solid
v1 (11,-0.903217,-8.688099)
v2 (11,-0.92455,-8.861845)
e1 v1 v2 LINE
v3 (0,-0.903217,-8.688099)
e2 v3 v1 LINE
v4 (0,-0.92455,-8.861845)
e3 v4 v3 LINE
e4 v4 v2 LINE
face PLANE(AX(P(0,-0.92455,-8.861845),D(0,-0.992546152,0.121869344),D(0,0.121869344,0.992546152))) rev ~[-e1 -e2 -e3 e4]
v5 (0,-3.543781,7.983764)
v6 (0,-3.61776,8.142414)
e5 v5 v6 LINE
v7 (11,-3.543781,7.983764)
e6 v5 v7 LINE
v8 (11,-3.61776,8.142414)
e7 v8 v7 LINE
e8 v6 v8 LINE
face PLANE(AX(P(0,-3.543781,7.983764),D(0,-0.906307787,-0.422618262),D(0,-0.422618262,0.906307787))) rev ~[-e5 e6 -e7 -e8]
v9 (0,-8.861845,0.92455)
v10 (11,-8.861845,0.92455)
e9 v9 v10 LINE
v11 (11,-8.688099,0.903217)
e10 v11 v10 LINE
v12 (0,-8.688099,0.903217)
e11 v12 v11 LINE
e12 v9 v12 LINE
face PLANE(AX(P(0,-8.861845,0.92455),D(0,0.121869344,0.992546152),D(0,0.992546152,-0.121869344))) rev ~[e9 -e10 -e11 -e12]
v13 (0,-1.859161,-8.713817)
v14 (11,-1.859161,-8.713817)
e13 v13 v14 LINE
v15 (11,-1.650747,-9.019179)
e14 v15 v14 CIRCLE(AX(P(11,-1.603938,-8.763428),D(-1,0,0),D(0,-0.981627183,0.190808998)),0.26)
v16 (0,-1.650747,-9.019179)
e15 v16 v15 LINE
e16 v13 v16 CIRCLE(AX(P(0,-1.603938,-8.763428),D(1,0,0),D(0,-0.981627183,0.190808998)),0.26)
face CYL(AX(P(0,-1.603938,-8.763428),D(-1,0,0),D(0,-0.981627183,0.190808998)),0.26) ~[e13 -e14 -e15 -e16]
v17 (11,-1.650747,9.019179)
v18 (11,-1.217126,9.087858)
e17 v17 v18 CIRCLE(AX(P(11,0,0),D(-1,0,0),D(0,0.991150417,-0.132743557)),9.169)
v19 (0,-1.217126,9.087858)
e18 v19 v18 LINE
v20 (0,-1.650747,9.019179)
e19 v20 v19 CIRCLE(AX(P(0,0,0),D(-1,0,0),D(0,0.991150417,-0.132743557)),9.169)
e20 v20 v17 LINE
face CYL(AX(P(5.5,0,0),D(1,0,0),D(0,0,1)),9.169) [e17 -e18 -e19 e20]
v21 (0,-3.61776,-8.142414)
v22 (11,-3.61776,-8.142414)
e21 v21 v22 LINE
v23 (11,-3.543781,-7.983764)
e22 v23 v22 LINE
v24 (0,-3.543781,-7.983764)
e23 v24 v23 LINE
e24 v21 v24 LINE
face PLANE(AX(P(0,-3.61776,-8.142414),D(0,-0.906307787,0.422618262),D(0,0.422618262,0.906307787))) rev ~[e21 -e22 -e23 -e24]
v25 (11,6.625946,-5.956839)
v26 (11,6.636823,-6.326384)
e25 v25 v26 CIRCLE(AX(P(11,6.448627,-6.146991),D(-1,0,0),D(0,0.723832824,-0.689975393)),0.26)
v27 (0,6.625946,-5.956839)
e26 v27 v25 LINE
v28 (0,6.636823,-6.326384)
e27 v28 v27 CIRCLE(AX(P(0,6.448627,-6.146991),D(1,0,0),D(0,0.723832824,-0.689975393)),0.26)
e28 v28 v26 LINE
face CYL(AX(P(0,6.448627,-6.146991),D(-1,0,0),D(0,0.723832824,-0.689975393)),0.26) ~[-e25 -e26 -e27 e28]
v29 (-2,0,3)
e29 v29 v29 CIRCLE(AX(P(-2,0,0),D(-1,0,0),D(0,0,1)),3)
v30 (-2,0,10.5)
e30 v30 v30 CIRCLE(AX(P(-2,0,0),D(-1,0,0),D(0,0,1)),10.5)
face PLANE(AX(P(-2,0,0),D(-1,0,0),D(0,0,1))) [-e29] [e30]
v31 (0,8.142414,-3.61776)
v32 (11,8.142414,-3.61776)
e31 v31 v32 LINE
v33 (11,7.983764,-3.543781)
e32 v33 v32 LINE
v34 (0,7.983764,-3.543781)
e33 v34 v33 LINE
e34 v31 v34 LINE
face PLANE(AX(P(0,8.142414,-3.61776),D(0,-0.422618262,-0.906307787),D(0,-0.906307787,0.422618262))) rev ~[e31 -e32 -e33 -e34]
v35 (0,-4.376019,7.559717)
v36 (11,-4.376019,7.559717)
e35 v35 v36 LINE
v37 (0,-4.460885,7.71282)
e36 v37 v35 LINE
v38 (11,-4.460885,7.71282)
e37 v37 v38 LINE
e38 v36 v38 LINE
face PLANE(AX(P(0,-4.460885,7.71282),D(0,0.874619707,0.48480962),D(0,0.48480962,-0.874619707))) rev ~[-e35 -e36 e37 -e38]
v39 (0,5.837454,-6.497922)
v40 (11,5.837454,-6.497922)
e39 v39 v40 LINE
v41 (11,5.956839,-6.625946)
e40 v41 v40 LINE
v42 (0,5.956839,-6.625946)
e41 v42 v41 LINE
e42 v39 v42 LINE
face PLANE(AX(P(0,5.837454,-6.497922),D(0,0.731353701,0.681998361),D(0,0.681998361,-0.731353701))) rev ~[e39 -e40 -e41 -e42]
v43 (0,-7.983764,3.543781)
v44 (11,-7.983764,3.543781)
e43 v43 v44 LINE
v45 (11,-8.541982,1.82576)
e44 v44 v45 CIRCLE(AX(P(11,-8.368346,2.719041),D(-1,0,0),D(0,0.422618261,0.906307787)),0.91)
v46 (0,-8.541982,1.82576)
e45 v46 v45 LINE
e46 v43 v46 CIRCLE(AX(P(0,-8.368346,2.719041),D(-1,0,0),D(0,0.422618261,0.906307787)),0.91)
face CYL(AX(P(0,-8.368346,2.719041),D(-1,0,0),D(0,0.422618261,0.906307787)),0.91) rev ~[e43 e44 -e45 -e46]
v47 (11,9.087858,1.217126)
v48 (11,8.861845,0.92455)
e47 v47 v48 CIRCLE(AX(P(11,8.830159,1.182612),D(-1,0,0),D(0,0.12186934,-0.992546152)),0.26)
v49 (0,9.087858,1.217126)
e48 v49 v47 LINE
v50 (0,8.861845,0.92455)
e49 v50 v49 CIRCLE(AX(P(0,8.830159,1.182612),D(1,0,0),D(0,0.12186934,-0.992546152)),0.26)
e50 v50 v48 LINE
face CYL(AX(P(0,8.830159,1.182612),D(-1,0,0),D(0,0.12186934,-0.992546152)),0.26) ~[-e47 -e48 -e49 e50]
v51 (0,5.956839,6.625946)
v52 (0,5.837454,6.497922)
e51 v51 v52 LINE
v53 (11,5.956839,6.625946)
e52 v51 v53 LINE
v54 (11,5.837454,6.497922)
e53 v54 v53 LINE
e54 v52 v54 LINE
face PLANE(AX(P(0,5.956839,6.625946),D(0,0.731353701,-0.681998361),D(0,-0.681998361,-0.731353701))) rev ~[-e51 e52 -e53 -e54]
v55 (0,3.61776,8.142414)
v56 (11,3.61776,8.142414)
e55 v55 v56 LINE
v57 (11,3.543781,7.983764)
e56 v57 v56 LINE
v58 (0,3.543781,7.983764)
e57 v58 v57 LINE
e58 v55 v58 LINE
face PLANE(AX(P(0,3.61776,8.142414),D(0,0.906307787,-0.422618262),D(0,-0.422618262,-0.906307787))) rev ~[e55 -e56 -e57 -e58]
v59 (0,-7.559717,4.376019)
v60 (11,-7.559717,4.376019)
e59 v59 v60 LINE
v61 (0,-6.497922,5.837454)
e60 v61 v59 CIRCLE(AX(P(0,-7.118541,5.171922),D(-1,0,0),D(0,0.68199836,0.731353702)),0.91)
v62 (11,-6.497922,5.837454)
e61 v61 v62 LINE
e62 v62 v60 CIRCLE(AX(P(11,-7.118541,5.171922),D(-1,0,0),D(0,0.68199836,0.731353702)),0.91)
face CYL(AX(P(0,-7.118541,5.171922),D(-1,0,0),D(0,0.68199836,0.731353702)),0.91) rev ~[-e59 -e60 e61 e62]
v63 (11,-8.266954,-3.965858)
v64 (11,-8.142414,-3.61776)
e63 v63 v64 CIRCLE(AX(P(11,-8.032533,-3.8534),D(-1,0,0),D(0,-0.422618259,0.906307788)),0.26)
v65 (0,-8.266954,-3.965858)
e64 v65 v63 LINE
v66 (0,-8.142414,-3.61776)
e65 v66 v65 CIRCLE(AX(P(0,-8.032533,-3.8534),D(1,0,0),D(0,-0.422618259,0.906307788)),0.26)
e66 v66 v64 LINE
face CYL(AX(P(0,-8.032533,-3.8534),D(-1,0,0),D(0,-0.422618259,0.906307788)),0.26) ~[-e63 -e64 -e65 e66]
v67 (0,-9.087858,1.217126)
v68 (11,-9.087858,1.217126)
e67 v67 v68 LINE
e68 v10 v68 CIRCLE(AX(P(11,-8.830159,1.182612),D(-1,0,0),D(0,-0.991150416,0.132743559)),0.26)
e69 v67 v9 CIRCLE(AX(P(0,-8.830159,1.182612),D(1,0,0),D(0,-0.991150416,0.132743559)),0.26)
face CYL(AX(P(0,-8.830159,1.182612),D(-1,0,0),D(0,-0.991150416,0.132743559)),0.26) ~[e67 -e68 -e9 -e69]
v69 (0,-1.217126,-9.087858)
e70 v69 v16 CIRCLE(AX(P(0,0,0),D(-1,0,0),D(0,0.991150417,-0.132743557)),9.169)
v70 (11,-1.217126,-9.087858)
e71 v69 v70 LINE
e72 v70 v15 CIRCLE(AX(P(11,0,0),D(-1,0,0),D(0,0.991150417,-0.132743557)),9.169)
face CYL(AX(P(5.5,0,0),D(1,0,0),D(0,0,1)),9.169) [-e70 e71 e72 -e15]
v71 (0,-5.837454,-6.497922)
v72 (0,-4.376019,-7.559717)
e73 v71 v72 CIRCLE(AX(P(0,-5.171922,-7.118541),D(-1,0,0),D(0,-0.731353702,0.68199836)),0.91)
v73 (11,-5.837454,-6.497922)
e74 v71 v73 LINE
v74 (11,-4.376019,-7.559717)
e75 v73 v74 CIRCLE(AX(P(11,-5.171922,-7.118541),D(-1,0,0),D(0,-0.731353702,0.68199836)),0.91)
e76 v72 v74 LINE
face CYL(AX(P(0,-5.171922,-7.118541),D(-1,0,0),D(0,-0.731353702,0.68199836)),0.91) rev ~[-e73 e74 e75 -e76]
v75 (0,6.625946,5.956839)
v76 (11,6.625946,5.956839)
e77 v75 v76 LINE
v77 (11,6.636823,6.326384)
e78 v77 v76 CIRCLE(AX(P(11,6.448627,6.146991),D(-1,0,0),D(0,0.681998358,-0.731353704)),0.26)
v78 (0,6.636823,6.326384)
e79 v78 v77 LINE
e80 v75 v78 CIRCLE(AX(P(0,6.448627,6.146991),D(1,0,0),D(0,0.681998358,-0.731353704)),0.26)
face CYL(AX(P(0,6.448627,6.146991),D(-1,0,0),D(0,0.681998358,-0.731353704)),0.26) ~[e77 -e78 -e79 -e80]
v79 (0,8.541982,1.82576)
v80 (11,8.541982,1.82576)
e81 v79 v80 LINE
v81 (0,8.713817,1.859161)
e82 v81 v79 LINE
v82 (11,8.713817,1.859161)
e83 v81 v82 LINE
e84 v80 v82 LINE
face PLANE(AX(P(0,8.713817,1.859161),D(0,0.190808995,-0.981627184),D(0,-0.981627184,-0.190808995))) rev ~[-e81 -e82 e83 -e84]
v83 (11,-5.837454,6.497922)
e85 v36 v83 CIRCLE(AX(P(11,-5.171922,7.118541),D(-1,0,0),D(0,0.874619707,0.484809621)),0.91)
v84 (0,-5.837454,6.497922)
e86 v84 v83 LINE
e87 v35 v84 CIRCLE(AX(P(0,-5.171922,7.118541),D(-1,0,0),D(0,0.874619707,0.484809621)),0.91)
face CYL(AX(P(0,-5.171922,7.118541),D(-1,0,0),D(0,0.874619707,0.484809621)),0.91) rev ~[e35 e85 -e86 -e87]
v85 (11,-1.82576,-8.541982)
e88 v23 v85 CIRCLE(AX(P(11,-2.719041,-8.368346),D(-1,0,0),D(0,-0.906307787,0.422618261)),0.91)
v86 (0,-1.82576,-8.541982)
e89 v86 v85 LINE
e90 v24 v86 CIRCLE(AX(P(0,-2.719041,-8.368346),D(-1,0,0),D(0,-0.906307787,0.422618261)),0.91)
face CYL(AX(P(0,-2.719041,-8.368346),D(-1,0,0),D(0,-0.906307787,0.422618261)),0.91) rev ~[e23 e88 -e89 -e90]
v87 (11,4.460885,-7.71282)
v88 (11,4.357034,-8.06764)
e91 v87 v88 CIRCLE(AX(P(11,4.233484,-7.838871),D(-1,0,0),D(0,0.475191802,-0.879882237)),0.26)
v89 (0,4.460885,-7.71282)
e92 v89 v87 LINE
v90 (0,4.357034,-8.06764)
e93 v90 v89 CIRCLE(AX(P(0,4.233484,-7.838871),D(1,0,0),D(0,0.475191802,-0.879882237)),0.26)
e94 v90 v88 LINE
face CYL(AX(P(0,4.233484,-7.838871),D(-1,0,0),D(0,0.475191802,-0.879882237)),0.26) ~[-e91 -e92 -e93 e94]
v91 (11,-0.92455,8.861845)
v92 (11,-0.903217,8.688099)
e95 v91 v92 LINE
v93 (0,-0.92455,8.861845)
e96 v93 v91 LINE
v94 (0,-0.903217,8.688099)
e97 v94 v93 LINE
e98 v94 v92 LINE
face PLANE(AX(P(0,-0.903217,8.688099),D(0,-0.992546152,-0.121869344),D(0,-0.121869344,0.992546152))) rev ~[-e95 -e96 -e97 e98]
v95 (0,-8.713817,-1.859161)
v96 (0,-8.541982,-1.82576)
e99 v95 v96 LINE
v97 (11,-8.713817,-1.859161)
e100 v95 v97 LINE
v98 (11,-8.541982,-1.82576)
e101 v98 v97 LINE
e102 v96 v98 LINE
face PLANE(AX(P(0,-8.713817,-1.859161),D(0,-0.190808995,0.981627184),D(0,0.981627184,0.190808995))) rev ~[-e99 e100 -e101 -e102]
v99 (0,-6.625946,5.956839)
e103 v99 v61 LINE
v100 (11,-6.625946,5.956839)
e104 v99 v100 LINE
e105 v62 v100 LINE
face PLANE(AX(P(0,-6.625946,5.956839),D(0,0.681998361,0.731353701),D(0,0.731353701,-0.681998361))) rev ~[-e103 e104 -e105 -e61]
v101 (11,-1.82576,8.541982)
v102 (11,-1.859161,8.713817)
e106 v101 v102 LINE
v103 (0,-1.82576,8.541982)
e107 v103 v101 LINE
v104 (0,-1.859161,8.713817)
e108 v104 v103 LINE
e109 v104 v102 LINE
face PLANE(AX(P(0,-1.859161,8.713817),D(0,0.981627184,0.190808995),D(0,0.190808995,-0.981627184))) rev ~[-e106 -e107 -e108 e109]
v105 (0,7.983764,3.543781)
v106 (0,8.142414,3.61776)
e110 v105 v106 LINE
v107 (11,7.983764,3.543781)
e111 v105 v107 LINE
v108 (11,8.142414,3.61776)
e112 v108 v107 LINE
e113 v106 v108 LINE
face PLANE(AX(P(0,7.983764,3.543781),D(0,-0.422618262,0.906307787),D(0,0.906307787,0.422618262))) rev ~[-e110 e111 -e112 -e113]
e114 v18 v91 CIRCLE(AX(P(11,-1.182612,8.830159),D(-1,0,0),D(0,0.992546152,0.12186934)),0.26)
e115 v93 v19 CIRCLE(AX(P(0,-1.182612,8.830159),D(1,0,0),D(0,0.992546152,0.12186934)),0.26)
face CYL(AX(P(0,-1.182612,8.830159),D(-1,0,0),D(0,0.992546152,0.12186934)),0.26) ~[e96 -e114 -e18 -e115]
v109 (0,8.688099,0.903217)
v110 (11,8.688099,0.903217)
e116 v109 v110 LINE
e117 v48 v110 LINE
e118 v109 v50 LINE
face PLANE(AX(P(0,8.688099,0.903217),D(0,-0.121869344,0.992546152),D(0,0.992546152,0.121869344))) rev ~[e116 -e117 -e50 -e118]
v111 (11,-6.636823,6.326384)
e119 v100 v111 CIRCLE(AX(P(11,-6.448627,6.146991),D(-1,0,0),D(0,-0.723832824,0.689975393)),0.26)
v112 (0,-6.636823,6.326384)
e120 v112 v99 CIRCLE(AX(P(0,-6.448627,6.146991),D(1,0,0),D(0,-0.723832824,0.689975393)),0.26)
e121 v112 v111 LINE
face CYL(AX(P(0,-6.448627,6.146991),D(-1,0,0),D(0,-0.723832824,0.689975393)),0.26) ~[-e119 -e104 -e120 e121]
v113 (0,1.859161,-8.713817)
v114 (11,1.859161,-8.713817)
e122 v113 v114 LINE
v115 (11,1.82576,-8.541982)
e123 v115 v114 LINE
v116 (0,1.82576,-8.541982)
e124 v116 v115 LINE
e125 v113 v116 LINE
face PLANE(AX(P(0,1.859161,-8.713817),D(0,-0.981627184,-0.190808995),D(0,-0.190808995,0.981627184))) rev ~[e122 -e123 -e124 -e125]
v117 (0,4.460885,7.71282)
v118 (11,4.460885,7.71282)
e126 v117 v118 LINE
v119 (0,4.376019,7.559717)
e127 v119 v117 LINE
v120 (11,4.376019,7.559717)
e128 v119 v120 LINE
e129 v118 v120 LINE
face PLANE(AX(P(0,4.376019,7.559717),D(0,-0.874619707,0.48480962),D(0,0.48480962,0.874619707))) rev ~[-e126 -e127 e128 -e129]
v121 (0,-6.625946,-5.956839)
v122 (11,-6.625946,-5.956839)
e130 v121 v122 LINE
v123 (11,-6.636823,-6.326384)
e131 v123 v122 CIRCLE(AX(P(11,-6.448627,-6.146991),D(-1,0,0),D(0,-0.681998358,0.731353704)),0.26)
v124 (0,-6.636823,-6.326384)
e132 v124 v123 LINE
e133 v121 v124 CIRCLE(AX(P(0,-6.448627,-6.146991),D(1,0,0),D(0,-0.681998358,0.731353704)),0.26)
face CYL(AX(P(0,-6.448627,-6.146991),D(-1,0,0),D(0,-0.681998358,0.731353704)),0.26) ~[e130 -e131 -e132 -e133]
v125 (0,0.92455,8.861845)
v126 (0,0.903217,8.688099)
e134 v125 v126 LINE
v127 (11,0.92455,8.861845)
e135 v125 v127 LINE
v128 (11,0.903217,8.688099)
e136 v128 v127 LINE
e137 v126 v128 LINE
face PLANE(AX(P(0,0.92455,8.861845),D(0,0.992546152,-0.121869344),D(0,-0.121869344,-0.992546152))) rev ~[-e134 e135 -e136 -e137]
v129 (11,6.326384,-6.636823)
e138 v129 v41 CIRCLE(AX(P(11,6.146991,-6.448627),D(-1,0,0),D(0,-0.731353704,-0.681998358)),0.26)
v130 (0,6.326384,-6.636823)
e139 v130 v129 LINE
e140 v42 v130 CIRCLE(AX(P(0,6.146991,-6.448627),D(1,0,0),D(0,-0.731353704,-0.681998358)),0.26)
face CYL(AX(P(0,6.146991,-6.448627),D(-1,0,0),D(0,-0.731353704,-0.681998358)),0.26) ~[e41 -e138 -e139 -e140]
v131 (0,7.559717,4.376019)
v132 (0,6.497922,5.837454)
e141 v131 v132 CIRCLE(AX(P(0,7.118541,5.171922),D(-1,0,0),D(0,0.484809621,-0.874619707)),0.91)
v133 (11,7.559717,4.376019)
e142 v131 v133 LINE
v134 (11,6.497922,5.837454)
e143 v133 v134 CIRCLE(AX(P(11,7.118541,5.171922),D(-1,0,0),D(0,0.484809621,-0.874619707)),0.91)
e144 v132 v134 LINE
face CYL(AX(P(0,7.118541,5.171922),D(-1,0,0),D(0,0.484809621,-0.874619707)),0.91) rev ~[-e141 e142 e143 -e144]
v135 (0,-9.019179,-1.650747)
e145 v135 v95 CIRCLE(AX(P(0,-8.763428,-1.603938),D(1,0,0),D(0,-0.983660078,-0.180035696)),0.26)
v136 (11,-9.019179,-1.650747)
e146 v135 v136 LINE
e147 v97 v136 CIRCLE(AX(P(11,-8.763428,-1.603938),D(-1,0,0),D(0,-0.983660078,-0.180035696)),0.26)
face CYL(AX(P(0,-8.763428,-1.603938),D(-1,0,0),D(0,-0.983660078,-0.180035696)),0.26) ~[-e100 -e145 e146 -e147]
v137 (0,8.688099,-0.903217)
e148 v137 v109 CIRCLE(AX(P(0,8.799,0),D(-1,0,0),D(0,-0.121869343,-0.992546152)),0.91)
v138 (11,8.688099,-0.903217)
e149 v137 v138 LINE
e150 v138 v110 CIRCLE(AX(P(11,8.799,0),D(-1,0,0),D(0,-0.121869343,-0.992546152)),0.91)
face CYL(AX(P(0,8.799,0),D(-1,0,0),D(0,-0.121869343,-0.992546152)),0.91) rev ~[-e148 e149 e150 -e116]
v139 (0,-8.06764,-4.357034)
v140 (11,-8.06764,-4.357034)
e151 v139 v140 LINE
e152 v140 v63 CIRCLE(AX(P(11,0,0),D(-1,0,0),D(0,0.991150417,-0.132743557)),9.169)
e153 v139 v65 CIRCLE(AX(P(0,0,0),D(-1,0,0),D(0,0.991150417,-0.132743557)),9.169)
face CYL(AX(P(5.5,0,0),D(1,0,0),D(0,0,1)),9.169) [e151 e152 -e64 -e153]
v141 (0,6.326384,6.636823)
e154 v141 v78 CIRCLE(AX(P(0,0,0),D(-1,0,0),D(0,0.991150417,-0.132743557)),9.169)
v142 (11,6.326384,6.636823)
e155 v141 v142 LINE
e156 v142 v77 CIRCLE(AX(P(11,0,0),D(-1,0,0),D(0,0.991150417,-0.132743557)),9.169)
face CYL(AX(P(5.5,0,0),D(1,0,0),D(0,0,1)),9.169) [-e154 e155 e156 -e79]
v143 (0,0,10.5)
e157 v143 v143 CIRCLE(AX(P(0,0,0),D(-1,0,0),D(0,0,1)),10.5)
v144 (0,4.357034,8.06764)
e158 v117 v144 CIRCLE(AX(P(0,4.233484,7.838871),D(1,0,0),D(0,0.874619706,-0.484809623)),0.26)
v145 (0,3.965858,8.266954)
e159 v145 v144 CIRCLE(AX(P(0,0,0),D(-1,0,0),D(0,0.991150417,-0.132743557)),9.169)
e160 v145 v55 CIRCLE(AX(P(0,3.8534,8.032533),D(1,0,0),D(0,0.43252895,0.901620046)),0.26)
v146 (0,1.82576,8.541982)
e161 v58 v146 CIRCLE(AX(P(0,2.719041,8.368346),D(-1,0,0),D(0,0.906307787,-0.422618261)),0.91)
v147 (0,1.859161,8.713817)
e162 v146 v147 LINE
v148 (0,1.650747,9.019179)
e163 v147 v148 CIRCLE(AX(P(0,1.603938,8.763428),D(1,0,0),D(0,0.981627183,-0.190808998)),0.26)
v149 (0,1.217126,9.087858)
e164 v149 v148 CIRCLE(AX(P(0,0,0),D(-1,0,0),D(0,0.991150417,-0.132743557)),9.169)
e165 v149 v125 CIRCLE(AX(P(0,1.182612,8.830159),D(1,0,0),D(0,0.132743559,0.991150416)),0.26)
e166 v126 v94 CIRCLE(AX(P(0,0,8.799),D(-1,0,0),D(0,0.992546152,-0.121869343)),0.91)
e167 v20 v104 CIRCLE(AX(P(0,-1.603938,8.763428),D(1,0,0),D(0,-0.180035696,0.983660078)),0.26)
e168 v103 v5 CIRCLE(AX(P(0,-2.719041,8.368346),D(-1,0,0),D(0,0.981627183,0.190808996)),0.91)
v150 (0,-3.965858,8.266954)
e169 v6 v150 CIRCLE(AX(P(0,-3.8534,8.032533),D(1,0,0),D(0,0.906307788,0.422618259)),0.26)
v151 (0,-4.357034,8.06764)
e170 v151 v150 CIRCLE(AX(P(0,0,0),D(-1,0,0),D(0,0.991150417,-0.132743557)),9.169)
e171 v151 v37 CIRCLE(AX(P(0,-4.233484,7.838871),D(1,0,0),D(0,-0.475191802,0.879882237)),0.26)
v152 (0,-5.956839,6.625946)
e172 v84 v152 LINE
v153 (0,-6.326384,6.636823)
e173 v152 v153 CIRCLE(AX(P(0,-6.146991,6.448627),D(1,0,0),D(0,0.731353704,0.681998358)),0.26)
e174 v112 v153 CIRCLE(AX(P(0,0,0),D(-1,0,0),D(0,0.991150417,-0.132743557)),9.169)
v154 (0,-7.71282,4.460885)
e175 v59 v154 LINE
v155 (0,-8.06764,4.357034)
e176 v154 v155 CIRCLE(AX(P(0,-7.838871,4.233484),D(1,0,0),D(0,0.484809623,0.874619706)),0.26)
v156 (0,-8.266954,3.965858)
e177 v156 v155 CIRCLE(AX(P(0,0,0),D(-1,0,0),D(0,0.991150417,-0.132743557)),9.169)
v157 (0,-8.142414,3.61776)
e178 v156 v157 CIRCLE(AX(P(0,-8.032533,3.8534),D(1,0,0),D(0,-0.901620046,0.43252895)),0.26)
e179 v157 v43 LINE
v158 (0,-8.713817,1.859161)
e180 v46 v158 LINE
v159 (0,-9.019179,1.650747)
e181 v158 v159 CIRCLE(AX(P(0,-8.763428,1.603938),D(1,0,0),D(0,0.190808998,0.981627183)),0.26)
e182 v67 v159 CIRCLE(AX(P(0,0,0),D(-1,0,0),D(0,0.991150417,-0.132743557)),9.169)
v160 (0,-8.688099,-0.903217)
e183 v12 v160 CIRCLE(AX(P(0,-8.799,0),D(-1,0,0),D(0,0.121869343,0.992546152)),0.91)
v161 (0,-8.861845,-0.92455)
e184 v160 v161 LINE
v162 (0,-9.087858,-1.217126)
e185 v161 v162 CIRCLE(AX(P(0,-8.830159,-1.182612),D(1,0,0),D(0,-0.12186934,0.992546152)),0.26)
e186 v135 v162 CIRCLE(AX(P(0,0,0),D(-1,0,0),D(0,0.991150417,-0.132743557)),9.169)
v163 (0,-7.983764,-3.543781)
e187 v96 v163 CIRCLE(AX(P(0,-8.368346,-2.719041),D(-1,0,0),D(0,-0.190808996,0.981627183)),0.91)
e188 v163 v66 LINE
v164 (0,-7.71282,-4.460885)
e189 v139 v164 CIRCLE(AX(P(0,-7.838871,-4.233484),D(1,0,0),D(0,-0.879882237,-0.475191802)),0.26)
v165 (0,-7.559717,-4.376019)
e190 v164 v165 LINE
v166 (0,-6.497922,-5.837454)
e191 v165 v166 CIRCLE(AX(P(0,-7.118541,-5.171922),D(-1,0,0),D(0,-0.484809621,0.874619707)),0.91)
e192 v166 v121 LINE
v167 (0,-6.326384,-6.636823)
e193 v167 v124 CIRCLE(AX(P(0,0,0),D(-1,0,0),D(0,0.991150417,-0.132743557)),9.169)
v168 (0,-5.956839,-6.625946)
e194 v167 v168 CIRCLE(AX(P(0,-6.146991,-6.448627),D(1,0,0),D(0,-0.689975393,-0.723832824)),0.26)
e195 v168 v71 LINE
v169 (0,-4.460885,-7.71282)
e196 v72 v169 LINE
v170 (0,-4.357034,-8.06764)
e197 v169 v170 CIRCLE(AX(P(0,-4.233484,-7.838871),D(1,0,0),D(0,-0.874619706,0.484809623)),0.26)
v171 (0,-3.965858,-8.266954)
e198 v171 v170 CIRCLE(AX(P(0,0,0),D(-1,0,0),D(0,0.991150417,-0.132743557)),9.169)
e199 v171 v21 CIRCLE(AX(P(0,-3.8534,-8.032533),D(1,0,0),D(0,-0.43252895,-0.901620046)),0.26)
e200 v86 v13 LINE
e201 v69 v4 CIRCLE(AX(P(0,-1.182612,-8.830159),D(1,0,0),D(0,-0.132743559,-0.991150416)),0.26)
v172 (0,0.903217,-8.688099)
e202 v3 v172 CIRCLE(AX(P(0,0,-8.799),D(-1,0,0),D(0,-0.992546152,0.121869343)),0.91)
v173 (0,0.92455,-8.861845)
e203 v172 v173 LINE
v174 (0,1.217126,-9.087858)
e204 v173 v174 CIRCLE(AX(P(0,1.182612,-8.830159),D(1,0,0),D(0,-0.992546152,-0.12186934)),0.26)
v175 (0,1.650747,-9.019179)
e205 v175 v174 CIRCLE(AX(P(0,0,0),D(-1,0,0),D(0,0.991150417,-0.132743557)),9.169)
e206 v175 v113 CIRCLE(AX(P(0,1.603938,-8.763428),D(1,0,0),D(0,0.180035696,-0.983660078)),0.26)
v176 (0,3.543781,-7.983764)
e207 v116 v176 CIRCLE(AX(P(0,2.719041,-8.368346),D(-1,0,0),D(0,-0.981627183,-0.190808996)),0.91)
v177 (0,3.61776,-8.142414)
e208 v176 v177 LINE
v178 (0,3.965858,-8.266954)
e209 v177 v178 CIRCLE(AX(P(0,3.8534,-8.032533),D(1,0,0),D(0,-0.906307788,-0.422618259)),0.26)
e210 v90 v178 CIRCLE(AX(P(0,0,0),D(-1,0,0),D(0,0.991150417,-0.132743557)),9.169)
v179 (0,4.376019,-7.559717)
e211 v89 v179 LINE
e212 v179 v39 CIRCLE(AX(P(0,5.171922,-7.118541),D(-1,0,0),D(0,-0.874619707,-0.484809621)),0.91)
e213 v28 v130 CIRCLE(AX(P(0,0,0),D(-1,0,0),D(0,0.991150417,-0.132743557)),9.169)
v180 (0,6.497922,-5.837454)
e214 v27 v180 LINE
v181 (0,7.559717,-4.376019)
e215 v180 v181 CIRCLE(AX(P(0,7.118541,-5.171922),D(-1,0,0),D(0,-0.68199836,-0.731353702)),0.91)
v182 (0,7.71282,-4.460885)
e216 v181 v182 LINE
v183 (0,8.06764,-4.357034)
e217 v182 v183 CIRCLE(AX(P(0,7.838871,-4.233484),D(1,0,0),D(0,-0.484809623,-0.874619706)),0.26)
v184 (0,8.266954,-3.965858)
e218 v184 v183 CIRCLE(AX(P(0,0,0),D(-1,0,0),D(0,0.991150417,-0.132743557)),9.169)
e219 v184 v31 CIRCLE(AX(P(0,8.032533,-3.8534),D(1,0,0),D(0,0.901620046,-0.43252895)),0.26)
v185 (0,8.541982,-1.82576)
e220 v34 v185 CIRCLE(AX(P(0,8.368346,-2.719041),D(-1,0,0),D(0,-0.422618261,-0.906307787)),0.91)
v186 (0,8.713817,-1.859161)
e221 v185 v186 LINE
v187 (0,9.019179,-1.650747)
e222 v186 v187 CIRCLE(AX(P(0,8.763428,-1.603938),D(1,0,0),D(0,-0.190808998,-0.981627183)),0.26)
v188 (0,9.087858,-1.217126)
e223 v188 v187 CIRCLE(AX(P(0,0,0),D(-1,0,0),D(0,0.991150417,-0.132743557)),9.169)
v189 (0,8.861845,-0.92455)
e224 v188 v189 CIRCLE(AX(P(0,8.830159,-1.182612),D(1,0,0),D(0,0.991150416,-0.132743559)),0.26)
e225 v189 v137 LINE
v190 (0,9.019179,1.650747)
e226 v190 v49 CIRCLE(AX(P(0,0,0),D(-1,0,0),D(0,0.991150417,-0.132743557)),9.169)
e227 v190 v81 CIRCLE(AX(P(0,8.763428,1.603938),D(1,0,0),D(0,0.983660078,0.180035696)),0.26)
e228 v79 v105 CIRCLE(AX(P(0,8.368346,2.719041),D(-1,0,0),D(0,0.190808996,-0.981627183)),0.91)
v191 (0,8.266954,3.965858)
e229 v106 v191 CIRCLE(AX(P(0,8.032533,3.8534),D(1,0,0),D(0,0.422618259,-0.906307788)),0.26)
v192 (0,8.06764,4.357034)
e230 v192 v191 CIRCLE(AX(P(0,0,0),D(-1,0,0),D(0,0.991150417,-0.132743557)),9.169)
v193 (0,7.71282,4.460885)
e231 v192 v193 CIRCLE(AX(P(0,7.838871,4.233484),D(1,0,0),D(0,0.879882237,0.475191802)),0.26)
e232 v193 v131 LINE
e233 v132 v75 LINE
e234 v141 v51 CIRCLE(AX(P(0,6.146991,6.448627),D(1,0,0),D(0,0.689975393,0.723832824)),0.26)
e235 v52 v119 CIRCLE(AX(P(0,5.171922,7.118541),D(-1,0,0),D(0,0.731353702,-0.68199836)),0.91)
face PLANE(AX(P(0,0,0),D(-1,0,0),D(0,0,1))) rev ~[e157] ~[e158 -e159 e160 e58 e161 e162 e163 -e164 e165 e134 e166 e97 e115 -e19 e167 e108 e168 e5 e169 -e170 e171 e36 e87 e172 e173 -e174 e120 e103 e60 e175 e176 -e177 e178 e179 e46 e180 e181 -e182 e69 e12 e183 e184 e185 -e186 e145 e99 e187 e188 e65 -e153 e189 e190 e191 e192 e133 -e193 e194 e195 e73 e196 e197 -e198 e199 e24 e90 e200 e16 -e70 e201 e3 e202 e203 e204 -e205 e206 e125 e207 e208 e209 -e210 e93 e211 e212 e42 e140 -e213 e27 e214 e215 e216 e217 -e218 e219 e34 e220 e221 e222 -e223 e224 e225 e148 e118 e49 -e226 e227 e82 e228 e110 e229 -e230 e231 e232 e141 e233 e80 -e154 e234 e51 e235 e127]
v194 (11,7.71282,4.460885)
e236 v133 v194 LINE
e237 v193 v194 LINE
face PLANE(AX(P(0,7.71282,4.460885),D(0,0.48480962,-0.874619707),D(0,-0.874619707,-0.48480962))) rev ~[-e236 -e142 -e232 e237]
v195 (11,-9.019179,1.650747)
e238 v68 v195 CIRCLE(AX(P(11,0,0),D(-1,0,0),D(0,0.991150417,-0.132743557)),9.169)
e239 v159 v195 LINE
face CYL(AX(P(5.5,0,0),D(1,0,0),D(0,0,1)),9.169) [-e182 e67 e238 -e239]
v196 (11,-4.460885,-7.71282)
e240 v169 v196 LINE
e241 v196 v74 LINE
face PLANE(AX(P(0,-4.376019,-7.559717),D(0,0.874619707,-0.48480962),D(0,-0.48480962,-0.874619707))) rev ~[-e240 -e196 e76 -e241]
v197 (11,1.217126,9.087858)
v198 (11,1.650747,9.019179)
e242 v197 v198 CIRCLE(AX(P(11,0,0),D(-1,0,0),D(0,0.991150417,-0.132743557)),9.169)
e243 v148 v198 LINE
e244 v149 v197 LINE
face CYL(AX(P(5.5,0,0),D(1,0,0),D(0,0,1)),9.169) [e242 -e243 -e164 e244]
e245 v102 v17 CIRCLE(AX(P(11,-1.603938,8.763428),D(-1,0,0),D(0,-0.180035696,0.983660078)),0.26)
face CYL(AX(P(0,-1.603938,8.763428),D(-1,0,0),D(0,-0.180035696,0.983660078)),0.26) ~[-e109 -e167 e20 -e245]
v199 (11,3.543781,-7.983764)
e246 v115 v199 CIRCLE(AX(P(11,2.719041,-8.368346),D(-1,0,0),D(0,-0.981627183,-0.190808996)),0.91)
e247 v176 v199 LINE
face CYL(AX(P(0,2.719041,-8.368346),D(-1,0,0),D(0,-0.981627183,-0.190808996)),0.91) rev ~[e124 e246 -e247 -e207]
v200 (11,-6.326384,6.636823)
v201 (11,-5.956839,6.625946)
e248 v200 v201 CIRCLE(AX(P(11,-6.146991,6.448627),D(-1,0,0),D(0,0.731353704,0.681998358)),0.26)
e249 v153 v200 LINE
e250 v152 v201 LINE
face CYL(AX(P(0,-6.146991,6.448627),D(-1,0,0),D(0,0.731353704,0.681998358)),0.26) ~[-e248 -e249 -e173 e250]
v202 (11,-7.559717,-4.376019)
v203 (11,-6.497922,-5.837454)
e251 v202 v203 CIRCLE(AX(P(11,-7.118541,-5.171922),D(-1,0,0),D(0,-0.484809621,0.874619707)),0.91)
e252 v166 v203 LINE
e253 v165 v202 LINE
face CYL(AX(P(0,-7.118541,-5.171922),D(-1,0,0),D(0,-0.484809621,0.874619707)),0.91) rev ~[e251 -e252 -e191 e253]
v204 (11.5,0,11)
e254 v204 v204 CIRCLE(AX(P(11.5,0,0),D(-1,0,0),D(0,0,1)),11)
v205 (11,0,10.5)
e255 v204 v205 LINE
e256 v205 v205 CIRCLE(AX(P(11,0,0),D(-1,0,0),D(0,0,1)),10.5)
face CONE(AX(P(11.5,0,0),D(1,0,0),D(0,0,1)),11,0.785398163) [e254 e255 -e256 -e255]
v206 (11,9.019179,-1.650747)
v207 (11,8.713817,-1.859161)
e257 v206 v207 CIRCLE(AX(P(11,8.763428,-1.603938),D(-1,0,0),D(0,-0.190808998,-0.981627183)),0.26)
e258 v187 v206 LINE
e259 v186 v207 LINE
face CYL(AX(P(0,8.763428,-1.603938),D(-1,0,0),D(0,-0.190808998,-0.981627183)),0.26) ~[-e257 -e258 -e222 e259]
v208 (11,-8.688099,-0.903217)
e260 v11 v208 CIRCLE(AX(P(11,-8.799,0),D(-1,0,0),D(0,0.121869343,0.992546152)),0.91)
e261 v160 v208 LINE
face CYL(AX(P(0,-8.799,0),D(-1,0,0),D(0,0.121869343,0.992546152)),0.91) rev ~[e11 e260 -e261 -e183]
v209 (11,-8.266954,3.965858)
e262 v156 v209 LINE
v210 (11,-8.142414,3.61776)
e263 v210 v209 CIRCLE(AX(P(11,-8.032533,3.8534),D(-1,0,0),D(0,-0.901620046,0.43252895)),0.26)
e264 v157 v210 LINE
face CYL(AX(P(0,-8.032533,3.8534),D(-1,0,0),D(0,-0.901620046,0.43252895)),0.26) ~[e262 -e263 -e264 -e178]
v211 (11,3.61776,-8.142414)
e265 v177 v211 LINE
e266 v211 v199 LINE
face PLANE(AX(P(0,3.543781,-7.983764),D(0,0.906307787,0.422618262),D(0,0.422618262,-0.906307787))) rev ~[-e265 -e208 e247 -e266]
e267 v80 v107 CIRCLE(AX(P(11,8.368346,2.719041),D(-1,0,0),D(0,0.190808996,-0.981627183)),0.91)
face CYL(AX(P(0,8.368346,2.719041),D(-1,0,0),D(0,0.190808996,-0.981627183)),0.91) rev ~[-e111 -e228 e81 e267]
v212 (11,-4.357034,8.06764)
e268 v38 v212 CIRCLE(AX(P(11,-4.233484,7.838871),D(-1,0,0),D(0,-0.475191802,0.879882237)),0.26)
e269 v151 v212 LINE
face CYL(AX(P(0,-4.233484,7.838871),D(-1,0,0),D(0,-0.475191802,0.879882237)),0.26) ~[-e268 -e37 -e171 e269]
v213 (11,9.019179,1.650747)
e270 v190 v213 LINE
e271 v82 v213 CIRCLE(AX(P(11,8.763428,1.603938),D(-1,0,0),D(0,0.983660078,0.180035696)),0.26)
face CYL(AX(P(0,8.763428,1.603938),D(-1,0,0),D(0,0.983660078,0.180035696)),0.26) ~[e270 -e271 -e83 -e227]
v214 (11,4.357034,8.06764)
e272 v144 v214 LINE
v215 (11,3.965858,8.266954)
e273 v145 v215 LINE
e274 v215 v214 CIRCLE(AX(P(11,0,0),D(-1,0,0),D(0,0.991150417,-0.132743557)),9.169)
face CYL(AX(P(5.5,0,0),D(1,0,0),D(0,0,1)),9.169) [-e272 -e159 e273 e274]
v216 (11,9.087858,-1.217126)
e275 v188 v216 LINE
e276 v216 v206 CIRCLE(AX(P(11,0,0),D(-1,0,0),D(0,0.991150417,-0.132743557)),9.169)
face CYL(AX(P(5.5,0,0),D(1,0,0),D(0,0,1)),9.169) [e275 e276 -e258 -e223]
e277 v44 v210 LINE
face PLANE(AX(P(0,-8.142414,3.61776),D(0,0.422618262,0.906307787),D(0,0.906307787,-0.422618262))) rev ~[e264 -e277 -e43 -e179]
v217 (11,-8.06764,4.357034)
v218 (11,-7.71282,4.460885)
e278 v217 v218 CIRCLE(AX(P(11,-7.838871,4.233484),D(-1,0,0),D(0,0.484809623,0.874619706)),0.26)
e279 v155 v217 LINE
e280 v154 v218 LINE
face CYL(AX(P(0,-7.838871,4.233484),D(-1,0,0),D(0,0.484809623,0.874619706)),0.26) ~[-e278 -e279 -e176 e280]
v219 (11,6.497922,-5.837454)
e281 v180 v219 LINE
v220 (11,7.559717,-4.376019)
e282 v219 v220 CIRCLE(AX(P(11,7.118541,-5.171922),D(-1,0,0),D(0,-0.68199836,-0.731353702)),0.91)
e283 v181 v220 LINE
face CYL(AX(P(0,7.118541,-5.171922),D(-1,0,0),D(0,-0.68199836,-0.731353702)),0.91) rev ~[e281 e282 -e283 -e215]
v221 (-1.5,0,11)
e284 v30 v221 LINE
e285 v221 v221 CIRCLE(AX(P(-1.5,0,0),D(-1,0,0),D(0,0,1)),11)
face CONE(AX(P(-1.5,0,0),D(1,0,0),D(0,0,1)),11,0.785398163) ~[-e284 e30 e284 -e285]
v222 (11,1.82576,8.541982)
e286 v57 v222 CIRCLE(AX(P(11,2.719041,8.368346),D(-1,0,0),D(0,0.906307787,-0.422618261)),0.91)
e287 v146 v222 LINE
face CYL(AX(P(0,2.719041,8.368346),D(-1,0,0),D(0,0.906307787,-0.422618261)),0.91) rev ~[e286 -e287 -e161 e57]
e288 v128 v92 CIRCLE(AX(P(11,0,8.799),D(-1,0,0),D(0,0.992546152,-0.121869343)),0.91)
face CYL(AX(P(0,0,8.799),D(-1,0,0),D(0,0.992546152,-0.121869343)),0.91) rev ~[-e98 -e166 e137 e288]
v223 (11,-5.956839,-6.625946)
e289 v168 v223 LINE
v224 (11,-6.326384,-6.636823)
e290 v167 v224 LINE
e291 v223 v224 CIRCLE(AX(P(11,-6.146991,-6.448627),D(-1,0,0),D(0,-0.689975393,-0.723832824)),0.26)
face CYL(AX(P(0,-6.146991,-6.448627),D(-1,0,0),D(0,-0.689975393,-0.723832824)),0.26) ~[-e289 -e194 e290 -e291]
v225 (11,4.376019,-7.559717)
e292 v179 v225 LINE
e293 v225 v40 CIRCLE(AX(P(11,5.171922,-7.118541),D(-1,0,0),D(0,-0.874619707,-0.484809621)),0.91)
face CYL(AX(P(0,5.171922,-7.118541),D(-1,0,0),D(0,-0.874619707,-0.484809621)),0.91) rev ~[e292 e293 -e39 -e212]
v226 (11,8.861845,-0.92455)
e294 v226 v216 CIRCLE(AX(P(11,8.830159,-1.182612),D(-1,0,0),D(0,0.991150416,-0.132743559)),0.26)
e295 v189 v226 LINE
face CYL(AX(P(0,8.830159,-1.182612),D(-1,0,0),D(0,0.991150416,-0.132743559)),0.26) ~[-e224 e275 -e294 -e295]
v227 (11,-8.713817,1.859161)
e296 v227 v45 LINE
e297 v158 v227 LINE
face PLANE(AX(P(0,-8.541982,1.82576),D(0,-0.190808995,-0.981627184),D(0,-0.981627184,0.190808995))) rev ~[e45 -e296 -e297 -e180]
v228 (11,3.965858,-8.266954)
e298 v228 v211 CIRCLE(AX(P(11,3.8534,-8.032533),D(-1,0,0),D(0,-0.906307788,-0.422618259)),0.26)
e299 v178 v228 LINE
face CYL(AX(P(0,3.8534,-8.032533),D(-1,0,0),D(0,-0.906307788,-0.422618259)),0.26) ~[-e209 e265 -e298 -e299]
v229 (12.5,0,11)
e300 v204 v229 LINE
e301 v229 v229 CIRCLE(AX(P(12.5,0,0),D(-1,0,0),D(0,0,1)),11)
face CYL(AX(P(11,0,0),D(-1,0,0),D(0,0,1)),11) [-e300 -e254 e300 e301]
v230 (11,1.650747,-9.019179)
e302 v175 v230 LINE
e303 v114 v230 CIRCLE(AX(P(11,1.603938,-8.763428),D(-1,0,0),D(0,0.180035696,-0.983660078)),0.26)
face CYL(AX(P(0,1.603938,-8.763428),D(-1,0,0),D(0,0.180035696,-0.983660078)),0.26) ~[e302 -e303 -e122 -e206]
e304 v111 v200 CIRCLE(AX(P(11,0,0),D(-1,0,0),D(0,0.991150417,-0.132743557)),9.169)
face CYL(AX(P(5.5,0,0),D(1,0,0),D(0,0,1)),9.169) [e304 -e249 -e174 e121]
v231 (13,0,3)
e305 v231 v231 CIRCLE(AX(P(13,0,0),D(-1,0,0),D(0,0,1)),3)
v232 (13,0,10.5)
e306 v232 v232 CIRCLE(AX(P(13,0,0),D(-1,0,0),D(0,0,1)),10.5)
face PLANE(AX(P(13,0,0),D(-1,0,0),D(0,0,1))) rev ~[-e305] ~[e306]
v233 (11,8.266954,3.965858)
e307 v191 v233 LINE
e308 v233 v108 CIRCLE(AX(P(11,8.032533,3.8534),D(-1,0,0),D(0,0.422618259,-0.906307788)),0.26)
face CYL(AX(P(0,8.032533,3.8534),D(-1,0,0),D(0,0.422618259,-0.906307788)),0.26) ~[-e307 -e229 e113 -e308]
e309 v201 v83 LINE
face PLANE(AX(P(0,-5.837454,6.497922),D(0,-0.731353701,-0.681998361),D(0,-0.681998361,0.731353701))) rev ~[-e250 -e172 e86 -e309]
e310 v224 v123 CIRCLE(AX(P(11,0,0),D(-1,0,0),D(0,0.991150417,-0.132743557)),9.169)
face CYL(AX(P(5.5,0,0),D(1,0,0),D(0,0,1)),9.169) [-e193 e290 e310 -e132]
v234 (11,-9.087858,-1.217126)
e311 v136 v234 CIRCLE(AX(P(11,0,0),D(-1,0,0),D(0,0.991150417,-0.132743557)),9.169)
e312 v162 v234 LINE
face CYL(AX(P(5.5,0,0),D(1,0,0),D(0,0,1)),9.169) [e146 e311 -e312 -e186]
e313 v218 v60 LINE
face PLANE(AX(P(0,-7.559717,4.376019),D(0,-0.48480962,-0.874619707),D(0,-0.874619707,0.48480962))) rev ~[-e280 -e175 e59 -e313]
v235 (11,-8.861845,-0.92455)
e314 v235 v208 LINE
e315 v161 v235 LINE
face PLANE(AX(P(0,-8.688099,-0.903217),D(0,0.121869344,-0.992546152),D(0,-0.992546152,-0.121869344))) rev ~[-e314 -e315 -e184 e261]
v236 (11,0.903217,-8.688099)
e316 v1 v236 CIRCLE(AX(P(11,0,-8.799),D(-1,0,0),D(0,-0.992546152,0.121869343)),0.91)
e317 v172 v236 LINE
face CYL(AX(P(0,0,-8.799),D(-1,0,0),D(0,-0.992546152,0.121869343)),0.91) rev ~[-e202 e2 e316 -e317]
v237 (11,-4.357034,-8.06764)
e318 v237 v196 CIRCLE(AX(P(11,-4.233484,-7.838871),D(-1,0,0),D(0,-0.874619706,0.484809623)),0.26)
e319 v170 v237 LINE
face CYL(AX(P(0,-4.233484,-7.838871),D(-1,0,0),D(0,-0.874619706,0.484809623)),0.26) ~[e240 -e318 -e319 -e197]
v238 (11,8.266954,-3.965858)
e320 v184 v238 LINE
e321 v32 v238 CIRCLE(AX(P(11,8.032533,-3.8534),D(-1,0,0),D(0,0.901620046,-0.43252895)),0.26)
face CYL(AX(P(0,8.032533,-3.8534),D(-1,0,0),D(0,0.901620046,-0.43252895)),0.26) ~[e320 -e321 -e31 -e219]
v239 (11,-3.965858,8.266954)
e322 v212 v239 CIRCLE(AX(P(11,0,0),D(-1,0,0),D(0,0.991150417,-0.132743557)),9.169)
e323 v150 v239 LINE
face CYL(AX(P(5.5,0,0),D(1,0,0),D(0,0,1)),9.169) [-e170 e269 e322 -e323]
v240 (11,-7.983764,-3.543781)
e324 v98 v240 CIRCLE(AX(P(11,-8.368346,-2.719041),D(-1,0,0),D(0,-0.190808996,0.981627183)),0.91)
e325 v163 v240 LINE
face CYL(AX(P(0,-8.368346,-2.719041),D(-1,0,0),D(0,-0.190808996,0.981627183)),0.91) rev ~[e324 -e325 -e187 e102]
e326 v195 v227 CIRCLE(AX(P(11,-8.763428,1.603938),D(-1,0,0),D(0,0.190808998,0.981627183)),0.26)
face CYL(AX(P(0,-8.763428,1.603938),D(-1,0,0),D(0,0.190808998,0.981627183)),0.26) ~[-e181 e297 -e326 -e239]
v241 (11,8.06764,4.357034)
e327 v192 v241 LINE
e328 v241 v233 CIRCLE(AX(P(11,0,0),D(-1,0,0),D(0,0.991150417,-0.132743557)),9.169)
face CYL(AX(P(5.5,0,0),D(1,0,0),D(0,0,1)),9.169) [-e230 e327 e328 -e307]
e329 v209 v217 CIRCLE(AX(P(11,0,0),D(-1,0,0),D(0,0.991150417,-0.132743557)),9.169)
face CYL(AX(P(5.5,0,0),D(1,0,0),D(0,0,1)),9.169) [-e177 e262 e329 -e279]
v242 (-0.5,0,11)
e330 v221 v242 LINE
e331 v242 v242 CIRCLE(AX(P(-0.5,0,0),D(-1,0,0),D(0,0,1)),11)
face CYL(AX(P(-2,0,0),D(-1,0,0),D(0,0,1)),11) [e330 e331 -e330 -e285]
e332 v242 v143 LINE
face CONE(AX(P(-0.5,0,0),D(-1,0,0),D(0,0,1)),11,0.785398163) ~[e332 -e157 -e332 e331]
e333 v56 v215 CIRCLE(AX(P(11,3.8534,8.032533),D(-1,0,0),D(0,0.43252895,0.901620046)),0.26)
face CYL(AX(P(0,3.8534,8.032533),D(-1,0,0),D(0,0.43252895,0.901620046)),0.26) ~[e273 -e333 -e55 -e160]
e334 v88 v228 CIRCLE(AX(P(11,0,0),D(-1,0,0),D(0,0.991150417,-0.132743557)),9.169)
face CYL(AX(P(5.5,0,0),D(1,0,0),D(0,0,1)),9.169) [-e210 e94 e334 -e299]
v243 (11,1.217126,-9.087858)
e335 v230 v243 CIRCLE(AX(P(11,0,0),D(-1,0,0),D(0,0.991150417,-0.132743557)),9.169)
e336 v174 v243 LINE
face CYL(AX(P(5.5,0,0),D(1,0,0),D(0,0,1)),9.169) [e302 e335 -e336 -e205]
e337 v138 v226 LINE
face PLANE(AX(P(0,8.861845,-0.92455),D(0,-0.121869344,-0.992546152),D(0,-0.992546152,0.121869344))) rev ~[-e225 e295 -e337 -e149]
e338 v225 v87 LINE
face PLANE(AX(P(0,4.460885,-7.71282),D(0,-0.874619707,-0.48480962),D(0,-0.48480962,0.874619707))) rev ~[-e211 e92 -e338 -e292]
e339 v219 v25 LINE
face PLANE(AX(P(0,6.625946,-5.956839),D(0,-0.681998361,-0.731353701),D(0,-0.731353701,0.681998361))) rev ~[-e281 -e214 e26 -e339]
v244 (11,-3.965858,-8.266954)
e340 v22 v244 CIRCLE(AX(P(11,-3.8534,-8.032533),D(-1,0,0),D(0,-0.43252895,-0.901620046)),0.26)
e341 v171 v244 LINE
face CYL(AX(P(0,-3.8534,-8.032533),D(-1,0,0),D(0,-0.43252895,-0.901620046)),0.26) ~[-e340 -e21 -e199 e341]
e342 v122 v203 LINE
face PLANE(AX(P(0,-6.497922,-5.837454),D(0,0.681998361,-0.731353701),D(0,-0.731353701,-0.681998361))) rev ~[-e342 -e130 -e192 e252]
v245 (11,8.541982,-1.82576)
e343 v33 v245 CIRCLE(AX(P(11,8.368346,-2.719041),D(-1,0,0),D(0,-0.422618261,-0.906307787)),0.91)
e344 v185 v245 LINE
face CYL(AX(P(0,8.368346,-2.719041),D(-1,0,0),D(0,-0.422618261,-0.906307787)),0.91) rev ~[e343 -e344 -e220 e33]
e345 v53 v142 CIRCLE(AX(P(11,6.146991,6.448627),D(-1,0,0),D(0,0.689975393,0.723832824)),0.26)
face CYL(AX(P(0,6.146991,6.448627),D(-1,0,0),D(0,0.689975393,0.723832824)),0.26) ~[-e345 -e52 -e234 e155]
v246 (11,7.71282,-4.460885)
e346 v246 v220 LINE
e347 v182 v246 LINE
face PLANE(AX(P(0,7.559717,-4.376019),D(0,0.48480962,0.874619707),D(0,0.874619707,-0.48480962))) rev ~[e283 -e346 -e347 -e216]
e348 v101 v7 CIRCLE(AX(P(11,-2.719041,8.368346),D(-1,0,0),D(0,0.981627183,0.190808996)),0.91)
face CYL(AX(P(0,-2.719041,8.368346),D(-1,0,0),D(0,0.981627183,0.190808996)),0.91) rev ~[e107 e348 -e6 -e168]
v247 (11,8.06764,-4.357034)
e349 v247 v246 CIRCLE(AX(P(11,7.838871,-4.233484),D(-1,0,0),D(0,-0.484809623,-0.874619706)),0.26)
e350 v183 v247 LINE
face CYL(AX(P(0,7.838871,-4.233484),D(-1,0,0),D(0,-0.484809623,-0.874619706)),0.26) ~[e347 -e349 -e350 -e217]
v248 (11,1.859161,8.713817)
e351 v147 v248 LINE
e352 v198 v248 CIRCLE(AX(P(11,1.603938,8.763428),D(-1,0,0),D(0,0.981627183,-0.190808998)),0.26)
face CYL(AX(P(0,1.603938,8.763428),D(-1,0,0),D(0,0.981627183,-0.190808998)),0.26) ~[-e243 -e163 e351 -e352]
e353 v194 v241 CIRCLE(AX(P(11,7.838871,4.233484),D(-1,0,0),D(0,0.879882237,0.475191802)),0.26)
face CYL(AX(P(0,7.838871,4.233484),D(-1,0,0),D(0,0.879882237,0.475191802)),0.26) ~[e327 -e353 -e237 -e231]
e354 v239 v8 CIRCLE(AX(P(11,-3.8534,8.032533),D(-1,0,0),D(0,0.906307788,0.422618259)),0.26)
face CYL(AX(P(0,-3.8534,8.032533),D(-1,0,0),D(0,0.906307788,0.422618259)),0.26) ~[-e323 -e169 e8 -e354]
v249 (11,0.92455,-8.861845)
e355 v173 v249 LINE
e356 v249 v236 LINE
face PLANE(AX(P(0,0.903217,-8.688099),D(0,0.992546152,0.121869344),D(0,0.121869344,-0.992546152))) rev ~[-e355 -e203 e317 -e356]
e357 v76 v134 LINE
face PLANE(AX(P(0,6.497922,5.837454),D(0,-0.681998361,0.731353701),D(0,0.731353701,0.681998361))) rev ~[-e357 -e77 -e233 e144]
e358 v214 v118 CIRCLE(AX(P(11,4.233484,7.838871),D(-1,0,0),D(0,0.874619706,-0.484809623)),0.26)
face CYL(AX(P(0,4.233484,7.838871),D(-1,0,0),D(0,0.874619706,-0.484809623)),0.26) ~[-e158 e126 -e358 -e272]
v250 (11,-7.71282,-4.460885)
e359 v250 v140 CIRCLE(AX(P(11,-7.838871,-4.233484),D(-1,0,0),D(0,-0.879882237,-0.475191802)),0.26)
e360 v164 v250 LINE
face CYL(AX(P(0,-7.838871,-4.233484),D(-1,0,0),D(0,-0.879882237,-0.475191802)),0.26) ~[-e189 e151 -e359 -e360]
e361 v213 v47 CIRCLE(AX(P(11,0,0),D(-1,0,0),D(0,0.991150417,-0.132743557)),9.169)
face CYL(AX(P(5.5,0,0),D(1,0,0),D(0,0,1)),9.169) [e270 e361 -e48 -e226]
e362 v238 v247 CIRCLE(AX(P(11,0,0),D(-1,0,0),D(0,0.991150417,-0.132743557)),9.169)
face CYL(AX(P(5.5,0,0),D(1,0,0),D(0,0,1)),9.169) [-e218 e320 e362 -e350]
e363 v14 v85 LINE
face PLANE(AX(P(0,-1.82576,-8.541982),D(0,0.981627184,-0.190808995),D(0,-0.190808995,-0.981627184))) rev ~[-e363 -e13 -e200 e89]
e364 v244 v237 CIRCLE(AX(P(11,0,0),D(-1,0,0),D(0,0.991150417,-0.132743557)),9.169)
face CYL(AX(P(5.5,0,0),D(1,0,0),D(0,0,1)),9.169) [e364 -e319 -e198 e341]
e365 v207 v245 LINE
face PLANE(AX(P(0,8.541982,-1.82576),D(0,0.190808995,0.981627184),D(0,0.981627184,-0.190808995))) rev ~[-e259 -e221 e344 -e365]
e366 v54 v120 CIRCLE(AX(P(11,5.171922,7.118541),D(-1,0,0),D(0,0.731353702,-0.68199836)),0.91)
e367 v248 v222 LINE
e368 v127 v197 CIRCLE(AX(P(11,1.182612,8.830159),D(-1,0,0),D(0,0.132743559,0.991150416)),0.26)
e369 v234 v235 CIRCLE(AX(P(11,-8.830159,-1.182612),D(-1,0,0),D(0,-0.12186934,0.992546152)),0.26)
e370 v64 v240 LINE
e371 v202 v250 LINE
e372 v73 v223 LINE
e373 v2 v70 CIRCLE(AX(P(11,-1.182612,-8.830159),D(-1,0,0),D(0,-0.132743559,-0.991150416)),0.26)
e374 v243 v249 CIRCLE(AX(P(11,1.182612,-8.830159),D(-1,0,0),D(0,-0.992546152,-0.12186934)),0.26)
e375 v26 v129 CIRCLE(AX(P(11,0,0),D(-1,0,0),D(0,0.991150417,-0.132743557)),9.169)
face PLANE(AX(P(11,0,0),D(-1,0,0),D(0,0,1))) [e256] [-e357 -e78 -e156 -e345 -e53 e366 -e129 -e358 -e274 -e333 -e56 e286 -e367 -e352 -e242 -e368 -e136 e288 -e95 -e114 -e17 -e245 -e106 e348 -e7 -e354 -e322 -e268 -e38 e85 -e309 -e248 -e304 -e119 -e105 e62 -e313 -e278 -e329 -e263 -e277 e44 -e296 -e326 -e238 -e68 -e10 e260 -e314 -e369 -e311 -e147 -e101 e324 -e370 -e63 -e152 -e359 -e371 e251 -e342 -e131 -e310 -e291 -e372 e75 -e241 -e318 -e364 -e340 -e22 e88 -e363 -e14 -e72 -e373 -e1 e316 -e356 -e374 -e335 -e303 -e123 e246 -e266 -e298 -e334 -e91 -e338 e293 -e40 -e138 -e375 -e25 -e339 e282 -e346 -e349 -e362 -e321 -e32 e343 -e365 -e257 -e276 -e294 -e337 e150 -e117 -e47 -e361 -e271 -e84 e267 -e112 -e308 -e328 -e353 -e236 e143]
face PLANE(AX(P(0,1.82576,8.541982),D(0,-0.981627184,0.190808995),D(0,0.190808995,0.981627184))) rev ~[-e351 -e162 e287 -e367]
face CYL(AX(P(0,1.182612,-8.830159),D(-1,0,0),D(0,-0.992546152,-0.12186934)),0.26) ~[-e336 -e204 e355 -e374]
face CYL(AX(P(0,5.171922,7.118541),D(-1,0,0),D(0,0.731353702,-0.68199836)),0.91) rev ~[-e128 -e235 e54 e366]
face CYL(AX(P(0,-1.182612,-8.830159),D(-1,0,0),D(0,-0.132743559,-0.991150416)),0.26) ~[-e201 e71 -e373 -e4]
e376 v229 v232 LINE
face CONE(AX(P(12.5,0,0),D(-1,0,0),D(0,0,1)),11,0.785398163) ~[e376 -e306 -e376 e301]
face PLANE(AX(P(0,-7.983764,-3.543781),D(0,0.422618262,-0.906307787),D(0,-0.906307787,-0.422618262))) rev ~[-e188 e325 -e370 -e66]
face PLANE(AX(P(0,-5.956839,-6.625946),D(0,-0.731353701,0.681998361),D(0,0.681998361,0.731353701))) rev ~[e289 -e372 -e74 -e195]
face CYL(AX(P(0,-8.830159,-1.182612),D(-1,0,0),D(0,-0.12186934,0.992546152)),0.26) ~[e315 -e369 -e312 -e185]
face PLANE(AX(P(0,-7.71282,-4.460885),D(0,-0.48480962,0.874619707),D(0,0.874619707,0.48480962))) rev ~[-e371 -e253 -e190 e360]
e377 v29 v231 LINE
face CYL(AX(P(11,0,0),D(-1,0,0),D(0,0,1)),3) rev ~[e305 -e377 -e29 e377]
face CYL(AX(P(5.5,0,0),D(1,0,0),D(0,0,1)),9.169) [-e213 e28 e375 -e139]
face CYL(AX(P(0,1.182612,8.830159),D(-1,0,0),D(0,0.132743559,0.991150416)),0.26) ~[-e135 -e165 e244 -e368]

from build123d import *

# Parameters (mm, degrees)
SKETCH_1_W               = 11
SKETCH_1_H               = 6.169
CUT_EXTRUDE_2_REACH      = 19.004
PATTERN_CIRCULAR_3_COUNT = 20
EXTRUDE_START            = 2
SKETCH_7_R               = 11
SKETCH_7_R_2             = 3
EXTRUDE_1_DEPTH          = 2
EXTRUDE_START_2          = -11
SKETCH_7_2_R             = 11
SKETCH_7_2_R_2           = 3
EXTRUDE_2_DEPTH          = 2
CHAMFER_1_SIZE           = 0.5


with BuildPart() as part:
    # 草图1 → 旋转1 (revolve)
    with BuildSketch(Plane.XY, mode=Mode.PRIVATE) as revolve_1_sk:
        with Locations((5.5, 6.0845)):
            Rectangle(SKETCH_1_W, SKETCH_1_H)
    revolve(revolve_1_sk.sketch.rotate(Axis((0, 0, 0), (1, 0, 0)), 90), axis=Axis((0, 0, 0), (1, 0, 0)))

    # 草图6 → 切除-拉伸2 (cut, up to next)
    with BuildSketch(Plane(origin=(0, 0, 0), x_dir=(0, 0, -1), z_dir=(1, 0, 0)), mode=Mode.PRIVATE) as cut_extrude_2_sk1:
        with BuildLine():
            Line((0.924550348, 8.86184509), (0.903216998, 8.688098898))
            ThreePointArc((0.903216998, 8.688098898), (0, 7.889), (-0.903216998, 8.688098898))
            Line((-0.903216998, 8.688098898), (-0.924550348, 8.86184509))
            ThreePointArc((-0.924550348, 8.86184509), (-1.023665877, 9.035916247), (-1.217125672, 9.087858169))
            ThreePointArc((-1.217125672, 9.087858169), (-1.345852886, 9.069688033), (-1.47430954, 9.049694601))
            Line((-1.47430954, 9.049694601), (-1.670957529, 10.651263944))
            ThreePointArc((-1.670957529, 10.651263944), (0, 10.781536192), (1.670957529, 10.651263944))
            Line((1.670957529, 10.651263944), (1.47430954, 9.049694601))
            ThreePointArc((1.47430954, 9.049694601), (1.345852886, 9.069688033), (1.217125672, 9.087858169))
            ThreePointArc((1.217125672, 9.087858169), (1.023665877, 9.035916247), (0.924550348, 8.86184509))
        make_face()
    cut_extrude_2_tool1 = extrude(cut_extrude_2_sk1.sketch, amount=CUT_EXTRUDE_2_REACH, mode=Mode.PRIVATE) & part.part
    cut_extrude_2 = cut_extrude_2_tool1.solids().sort_by_distance((0, 9.573328, 0))[0]
    add(cut_extrude_2, mode=Mode.SUBTRACT)

    # 阵列(圆周)3: 切除-拉伸2 ×20 about axis
    pattern_circular_3_axis = Axis((0, 0, 0), (1, 0, 0))
    for i in range(1, PATTERN_CIRCULAR_3_COUNT):
        add(cut_extrude_2.rotate(pattern_circular_3_axis, i * 360 / PATTERN_CIRCULAR_3_COUNT), mode=Mode.SUBTRACT)

    # 草图7 → 凸台-拉伸1 (add)
    with BuildSketch(Plane.ZY.offset(EXTRUDE_START)):
        Circle(SKETCH_7_R)
        Circle(SKETCH_7_R_2, mode=Mode.SUBTRACT)
    extrude(amount=-EXTRUDE_1_DEPTH)

    # 草图7<2> → 凸台-拉伸2 (add)
    with BuildSketch(Plane.ZY.offset(EXTRUDE_START_2)):
        Circle(SKETCH_7_2_R)
        Circle(SKETCH_7_2_R_2, mode=Mode.SUBTRACT)
    extrude(amount=-EXTRUDE_2_DEPTH)

    # 倒角1
    chamfer_1_edges = [part.edges().sort_by_distance(p)[0] for p in [
        (-2, 0, -11),
        (0, 0, -11),
        (13, 0, -11),
        (11, 0, -11),
    ]]
    chamfer(chamfer_1_edges, length=CHAMFER_1_SIZE)


solid = part.part
